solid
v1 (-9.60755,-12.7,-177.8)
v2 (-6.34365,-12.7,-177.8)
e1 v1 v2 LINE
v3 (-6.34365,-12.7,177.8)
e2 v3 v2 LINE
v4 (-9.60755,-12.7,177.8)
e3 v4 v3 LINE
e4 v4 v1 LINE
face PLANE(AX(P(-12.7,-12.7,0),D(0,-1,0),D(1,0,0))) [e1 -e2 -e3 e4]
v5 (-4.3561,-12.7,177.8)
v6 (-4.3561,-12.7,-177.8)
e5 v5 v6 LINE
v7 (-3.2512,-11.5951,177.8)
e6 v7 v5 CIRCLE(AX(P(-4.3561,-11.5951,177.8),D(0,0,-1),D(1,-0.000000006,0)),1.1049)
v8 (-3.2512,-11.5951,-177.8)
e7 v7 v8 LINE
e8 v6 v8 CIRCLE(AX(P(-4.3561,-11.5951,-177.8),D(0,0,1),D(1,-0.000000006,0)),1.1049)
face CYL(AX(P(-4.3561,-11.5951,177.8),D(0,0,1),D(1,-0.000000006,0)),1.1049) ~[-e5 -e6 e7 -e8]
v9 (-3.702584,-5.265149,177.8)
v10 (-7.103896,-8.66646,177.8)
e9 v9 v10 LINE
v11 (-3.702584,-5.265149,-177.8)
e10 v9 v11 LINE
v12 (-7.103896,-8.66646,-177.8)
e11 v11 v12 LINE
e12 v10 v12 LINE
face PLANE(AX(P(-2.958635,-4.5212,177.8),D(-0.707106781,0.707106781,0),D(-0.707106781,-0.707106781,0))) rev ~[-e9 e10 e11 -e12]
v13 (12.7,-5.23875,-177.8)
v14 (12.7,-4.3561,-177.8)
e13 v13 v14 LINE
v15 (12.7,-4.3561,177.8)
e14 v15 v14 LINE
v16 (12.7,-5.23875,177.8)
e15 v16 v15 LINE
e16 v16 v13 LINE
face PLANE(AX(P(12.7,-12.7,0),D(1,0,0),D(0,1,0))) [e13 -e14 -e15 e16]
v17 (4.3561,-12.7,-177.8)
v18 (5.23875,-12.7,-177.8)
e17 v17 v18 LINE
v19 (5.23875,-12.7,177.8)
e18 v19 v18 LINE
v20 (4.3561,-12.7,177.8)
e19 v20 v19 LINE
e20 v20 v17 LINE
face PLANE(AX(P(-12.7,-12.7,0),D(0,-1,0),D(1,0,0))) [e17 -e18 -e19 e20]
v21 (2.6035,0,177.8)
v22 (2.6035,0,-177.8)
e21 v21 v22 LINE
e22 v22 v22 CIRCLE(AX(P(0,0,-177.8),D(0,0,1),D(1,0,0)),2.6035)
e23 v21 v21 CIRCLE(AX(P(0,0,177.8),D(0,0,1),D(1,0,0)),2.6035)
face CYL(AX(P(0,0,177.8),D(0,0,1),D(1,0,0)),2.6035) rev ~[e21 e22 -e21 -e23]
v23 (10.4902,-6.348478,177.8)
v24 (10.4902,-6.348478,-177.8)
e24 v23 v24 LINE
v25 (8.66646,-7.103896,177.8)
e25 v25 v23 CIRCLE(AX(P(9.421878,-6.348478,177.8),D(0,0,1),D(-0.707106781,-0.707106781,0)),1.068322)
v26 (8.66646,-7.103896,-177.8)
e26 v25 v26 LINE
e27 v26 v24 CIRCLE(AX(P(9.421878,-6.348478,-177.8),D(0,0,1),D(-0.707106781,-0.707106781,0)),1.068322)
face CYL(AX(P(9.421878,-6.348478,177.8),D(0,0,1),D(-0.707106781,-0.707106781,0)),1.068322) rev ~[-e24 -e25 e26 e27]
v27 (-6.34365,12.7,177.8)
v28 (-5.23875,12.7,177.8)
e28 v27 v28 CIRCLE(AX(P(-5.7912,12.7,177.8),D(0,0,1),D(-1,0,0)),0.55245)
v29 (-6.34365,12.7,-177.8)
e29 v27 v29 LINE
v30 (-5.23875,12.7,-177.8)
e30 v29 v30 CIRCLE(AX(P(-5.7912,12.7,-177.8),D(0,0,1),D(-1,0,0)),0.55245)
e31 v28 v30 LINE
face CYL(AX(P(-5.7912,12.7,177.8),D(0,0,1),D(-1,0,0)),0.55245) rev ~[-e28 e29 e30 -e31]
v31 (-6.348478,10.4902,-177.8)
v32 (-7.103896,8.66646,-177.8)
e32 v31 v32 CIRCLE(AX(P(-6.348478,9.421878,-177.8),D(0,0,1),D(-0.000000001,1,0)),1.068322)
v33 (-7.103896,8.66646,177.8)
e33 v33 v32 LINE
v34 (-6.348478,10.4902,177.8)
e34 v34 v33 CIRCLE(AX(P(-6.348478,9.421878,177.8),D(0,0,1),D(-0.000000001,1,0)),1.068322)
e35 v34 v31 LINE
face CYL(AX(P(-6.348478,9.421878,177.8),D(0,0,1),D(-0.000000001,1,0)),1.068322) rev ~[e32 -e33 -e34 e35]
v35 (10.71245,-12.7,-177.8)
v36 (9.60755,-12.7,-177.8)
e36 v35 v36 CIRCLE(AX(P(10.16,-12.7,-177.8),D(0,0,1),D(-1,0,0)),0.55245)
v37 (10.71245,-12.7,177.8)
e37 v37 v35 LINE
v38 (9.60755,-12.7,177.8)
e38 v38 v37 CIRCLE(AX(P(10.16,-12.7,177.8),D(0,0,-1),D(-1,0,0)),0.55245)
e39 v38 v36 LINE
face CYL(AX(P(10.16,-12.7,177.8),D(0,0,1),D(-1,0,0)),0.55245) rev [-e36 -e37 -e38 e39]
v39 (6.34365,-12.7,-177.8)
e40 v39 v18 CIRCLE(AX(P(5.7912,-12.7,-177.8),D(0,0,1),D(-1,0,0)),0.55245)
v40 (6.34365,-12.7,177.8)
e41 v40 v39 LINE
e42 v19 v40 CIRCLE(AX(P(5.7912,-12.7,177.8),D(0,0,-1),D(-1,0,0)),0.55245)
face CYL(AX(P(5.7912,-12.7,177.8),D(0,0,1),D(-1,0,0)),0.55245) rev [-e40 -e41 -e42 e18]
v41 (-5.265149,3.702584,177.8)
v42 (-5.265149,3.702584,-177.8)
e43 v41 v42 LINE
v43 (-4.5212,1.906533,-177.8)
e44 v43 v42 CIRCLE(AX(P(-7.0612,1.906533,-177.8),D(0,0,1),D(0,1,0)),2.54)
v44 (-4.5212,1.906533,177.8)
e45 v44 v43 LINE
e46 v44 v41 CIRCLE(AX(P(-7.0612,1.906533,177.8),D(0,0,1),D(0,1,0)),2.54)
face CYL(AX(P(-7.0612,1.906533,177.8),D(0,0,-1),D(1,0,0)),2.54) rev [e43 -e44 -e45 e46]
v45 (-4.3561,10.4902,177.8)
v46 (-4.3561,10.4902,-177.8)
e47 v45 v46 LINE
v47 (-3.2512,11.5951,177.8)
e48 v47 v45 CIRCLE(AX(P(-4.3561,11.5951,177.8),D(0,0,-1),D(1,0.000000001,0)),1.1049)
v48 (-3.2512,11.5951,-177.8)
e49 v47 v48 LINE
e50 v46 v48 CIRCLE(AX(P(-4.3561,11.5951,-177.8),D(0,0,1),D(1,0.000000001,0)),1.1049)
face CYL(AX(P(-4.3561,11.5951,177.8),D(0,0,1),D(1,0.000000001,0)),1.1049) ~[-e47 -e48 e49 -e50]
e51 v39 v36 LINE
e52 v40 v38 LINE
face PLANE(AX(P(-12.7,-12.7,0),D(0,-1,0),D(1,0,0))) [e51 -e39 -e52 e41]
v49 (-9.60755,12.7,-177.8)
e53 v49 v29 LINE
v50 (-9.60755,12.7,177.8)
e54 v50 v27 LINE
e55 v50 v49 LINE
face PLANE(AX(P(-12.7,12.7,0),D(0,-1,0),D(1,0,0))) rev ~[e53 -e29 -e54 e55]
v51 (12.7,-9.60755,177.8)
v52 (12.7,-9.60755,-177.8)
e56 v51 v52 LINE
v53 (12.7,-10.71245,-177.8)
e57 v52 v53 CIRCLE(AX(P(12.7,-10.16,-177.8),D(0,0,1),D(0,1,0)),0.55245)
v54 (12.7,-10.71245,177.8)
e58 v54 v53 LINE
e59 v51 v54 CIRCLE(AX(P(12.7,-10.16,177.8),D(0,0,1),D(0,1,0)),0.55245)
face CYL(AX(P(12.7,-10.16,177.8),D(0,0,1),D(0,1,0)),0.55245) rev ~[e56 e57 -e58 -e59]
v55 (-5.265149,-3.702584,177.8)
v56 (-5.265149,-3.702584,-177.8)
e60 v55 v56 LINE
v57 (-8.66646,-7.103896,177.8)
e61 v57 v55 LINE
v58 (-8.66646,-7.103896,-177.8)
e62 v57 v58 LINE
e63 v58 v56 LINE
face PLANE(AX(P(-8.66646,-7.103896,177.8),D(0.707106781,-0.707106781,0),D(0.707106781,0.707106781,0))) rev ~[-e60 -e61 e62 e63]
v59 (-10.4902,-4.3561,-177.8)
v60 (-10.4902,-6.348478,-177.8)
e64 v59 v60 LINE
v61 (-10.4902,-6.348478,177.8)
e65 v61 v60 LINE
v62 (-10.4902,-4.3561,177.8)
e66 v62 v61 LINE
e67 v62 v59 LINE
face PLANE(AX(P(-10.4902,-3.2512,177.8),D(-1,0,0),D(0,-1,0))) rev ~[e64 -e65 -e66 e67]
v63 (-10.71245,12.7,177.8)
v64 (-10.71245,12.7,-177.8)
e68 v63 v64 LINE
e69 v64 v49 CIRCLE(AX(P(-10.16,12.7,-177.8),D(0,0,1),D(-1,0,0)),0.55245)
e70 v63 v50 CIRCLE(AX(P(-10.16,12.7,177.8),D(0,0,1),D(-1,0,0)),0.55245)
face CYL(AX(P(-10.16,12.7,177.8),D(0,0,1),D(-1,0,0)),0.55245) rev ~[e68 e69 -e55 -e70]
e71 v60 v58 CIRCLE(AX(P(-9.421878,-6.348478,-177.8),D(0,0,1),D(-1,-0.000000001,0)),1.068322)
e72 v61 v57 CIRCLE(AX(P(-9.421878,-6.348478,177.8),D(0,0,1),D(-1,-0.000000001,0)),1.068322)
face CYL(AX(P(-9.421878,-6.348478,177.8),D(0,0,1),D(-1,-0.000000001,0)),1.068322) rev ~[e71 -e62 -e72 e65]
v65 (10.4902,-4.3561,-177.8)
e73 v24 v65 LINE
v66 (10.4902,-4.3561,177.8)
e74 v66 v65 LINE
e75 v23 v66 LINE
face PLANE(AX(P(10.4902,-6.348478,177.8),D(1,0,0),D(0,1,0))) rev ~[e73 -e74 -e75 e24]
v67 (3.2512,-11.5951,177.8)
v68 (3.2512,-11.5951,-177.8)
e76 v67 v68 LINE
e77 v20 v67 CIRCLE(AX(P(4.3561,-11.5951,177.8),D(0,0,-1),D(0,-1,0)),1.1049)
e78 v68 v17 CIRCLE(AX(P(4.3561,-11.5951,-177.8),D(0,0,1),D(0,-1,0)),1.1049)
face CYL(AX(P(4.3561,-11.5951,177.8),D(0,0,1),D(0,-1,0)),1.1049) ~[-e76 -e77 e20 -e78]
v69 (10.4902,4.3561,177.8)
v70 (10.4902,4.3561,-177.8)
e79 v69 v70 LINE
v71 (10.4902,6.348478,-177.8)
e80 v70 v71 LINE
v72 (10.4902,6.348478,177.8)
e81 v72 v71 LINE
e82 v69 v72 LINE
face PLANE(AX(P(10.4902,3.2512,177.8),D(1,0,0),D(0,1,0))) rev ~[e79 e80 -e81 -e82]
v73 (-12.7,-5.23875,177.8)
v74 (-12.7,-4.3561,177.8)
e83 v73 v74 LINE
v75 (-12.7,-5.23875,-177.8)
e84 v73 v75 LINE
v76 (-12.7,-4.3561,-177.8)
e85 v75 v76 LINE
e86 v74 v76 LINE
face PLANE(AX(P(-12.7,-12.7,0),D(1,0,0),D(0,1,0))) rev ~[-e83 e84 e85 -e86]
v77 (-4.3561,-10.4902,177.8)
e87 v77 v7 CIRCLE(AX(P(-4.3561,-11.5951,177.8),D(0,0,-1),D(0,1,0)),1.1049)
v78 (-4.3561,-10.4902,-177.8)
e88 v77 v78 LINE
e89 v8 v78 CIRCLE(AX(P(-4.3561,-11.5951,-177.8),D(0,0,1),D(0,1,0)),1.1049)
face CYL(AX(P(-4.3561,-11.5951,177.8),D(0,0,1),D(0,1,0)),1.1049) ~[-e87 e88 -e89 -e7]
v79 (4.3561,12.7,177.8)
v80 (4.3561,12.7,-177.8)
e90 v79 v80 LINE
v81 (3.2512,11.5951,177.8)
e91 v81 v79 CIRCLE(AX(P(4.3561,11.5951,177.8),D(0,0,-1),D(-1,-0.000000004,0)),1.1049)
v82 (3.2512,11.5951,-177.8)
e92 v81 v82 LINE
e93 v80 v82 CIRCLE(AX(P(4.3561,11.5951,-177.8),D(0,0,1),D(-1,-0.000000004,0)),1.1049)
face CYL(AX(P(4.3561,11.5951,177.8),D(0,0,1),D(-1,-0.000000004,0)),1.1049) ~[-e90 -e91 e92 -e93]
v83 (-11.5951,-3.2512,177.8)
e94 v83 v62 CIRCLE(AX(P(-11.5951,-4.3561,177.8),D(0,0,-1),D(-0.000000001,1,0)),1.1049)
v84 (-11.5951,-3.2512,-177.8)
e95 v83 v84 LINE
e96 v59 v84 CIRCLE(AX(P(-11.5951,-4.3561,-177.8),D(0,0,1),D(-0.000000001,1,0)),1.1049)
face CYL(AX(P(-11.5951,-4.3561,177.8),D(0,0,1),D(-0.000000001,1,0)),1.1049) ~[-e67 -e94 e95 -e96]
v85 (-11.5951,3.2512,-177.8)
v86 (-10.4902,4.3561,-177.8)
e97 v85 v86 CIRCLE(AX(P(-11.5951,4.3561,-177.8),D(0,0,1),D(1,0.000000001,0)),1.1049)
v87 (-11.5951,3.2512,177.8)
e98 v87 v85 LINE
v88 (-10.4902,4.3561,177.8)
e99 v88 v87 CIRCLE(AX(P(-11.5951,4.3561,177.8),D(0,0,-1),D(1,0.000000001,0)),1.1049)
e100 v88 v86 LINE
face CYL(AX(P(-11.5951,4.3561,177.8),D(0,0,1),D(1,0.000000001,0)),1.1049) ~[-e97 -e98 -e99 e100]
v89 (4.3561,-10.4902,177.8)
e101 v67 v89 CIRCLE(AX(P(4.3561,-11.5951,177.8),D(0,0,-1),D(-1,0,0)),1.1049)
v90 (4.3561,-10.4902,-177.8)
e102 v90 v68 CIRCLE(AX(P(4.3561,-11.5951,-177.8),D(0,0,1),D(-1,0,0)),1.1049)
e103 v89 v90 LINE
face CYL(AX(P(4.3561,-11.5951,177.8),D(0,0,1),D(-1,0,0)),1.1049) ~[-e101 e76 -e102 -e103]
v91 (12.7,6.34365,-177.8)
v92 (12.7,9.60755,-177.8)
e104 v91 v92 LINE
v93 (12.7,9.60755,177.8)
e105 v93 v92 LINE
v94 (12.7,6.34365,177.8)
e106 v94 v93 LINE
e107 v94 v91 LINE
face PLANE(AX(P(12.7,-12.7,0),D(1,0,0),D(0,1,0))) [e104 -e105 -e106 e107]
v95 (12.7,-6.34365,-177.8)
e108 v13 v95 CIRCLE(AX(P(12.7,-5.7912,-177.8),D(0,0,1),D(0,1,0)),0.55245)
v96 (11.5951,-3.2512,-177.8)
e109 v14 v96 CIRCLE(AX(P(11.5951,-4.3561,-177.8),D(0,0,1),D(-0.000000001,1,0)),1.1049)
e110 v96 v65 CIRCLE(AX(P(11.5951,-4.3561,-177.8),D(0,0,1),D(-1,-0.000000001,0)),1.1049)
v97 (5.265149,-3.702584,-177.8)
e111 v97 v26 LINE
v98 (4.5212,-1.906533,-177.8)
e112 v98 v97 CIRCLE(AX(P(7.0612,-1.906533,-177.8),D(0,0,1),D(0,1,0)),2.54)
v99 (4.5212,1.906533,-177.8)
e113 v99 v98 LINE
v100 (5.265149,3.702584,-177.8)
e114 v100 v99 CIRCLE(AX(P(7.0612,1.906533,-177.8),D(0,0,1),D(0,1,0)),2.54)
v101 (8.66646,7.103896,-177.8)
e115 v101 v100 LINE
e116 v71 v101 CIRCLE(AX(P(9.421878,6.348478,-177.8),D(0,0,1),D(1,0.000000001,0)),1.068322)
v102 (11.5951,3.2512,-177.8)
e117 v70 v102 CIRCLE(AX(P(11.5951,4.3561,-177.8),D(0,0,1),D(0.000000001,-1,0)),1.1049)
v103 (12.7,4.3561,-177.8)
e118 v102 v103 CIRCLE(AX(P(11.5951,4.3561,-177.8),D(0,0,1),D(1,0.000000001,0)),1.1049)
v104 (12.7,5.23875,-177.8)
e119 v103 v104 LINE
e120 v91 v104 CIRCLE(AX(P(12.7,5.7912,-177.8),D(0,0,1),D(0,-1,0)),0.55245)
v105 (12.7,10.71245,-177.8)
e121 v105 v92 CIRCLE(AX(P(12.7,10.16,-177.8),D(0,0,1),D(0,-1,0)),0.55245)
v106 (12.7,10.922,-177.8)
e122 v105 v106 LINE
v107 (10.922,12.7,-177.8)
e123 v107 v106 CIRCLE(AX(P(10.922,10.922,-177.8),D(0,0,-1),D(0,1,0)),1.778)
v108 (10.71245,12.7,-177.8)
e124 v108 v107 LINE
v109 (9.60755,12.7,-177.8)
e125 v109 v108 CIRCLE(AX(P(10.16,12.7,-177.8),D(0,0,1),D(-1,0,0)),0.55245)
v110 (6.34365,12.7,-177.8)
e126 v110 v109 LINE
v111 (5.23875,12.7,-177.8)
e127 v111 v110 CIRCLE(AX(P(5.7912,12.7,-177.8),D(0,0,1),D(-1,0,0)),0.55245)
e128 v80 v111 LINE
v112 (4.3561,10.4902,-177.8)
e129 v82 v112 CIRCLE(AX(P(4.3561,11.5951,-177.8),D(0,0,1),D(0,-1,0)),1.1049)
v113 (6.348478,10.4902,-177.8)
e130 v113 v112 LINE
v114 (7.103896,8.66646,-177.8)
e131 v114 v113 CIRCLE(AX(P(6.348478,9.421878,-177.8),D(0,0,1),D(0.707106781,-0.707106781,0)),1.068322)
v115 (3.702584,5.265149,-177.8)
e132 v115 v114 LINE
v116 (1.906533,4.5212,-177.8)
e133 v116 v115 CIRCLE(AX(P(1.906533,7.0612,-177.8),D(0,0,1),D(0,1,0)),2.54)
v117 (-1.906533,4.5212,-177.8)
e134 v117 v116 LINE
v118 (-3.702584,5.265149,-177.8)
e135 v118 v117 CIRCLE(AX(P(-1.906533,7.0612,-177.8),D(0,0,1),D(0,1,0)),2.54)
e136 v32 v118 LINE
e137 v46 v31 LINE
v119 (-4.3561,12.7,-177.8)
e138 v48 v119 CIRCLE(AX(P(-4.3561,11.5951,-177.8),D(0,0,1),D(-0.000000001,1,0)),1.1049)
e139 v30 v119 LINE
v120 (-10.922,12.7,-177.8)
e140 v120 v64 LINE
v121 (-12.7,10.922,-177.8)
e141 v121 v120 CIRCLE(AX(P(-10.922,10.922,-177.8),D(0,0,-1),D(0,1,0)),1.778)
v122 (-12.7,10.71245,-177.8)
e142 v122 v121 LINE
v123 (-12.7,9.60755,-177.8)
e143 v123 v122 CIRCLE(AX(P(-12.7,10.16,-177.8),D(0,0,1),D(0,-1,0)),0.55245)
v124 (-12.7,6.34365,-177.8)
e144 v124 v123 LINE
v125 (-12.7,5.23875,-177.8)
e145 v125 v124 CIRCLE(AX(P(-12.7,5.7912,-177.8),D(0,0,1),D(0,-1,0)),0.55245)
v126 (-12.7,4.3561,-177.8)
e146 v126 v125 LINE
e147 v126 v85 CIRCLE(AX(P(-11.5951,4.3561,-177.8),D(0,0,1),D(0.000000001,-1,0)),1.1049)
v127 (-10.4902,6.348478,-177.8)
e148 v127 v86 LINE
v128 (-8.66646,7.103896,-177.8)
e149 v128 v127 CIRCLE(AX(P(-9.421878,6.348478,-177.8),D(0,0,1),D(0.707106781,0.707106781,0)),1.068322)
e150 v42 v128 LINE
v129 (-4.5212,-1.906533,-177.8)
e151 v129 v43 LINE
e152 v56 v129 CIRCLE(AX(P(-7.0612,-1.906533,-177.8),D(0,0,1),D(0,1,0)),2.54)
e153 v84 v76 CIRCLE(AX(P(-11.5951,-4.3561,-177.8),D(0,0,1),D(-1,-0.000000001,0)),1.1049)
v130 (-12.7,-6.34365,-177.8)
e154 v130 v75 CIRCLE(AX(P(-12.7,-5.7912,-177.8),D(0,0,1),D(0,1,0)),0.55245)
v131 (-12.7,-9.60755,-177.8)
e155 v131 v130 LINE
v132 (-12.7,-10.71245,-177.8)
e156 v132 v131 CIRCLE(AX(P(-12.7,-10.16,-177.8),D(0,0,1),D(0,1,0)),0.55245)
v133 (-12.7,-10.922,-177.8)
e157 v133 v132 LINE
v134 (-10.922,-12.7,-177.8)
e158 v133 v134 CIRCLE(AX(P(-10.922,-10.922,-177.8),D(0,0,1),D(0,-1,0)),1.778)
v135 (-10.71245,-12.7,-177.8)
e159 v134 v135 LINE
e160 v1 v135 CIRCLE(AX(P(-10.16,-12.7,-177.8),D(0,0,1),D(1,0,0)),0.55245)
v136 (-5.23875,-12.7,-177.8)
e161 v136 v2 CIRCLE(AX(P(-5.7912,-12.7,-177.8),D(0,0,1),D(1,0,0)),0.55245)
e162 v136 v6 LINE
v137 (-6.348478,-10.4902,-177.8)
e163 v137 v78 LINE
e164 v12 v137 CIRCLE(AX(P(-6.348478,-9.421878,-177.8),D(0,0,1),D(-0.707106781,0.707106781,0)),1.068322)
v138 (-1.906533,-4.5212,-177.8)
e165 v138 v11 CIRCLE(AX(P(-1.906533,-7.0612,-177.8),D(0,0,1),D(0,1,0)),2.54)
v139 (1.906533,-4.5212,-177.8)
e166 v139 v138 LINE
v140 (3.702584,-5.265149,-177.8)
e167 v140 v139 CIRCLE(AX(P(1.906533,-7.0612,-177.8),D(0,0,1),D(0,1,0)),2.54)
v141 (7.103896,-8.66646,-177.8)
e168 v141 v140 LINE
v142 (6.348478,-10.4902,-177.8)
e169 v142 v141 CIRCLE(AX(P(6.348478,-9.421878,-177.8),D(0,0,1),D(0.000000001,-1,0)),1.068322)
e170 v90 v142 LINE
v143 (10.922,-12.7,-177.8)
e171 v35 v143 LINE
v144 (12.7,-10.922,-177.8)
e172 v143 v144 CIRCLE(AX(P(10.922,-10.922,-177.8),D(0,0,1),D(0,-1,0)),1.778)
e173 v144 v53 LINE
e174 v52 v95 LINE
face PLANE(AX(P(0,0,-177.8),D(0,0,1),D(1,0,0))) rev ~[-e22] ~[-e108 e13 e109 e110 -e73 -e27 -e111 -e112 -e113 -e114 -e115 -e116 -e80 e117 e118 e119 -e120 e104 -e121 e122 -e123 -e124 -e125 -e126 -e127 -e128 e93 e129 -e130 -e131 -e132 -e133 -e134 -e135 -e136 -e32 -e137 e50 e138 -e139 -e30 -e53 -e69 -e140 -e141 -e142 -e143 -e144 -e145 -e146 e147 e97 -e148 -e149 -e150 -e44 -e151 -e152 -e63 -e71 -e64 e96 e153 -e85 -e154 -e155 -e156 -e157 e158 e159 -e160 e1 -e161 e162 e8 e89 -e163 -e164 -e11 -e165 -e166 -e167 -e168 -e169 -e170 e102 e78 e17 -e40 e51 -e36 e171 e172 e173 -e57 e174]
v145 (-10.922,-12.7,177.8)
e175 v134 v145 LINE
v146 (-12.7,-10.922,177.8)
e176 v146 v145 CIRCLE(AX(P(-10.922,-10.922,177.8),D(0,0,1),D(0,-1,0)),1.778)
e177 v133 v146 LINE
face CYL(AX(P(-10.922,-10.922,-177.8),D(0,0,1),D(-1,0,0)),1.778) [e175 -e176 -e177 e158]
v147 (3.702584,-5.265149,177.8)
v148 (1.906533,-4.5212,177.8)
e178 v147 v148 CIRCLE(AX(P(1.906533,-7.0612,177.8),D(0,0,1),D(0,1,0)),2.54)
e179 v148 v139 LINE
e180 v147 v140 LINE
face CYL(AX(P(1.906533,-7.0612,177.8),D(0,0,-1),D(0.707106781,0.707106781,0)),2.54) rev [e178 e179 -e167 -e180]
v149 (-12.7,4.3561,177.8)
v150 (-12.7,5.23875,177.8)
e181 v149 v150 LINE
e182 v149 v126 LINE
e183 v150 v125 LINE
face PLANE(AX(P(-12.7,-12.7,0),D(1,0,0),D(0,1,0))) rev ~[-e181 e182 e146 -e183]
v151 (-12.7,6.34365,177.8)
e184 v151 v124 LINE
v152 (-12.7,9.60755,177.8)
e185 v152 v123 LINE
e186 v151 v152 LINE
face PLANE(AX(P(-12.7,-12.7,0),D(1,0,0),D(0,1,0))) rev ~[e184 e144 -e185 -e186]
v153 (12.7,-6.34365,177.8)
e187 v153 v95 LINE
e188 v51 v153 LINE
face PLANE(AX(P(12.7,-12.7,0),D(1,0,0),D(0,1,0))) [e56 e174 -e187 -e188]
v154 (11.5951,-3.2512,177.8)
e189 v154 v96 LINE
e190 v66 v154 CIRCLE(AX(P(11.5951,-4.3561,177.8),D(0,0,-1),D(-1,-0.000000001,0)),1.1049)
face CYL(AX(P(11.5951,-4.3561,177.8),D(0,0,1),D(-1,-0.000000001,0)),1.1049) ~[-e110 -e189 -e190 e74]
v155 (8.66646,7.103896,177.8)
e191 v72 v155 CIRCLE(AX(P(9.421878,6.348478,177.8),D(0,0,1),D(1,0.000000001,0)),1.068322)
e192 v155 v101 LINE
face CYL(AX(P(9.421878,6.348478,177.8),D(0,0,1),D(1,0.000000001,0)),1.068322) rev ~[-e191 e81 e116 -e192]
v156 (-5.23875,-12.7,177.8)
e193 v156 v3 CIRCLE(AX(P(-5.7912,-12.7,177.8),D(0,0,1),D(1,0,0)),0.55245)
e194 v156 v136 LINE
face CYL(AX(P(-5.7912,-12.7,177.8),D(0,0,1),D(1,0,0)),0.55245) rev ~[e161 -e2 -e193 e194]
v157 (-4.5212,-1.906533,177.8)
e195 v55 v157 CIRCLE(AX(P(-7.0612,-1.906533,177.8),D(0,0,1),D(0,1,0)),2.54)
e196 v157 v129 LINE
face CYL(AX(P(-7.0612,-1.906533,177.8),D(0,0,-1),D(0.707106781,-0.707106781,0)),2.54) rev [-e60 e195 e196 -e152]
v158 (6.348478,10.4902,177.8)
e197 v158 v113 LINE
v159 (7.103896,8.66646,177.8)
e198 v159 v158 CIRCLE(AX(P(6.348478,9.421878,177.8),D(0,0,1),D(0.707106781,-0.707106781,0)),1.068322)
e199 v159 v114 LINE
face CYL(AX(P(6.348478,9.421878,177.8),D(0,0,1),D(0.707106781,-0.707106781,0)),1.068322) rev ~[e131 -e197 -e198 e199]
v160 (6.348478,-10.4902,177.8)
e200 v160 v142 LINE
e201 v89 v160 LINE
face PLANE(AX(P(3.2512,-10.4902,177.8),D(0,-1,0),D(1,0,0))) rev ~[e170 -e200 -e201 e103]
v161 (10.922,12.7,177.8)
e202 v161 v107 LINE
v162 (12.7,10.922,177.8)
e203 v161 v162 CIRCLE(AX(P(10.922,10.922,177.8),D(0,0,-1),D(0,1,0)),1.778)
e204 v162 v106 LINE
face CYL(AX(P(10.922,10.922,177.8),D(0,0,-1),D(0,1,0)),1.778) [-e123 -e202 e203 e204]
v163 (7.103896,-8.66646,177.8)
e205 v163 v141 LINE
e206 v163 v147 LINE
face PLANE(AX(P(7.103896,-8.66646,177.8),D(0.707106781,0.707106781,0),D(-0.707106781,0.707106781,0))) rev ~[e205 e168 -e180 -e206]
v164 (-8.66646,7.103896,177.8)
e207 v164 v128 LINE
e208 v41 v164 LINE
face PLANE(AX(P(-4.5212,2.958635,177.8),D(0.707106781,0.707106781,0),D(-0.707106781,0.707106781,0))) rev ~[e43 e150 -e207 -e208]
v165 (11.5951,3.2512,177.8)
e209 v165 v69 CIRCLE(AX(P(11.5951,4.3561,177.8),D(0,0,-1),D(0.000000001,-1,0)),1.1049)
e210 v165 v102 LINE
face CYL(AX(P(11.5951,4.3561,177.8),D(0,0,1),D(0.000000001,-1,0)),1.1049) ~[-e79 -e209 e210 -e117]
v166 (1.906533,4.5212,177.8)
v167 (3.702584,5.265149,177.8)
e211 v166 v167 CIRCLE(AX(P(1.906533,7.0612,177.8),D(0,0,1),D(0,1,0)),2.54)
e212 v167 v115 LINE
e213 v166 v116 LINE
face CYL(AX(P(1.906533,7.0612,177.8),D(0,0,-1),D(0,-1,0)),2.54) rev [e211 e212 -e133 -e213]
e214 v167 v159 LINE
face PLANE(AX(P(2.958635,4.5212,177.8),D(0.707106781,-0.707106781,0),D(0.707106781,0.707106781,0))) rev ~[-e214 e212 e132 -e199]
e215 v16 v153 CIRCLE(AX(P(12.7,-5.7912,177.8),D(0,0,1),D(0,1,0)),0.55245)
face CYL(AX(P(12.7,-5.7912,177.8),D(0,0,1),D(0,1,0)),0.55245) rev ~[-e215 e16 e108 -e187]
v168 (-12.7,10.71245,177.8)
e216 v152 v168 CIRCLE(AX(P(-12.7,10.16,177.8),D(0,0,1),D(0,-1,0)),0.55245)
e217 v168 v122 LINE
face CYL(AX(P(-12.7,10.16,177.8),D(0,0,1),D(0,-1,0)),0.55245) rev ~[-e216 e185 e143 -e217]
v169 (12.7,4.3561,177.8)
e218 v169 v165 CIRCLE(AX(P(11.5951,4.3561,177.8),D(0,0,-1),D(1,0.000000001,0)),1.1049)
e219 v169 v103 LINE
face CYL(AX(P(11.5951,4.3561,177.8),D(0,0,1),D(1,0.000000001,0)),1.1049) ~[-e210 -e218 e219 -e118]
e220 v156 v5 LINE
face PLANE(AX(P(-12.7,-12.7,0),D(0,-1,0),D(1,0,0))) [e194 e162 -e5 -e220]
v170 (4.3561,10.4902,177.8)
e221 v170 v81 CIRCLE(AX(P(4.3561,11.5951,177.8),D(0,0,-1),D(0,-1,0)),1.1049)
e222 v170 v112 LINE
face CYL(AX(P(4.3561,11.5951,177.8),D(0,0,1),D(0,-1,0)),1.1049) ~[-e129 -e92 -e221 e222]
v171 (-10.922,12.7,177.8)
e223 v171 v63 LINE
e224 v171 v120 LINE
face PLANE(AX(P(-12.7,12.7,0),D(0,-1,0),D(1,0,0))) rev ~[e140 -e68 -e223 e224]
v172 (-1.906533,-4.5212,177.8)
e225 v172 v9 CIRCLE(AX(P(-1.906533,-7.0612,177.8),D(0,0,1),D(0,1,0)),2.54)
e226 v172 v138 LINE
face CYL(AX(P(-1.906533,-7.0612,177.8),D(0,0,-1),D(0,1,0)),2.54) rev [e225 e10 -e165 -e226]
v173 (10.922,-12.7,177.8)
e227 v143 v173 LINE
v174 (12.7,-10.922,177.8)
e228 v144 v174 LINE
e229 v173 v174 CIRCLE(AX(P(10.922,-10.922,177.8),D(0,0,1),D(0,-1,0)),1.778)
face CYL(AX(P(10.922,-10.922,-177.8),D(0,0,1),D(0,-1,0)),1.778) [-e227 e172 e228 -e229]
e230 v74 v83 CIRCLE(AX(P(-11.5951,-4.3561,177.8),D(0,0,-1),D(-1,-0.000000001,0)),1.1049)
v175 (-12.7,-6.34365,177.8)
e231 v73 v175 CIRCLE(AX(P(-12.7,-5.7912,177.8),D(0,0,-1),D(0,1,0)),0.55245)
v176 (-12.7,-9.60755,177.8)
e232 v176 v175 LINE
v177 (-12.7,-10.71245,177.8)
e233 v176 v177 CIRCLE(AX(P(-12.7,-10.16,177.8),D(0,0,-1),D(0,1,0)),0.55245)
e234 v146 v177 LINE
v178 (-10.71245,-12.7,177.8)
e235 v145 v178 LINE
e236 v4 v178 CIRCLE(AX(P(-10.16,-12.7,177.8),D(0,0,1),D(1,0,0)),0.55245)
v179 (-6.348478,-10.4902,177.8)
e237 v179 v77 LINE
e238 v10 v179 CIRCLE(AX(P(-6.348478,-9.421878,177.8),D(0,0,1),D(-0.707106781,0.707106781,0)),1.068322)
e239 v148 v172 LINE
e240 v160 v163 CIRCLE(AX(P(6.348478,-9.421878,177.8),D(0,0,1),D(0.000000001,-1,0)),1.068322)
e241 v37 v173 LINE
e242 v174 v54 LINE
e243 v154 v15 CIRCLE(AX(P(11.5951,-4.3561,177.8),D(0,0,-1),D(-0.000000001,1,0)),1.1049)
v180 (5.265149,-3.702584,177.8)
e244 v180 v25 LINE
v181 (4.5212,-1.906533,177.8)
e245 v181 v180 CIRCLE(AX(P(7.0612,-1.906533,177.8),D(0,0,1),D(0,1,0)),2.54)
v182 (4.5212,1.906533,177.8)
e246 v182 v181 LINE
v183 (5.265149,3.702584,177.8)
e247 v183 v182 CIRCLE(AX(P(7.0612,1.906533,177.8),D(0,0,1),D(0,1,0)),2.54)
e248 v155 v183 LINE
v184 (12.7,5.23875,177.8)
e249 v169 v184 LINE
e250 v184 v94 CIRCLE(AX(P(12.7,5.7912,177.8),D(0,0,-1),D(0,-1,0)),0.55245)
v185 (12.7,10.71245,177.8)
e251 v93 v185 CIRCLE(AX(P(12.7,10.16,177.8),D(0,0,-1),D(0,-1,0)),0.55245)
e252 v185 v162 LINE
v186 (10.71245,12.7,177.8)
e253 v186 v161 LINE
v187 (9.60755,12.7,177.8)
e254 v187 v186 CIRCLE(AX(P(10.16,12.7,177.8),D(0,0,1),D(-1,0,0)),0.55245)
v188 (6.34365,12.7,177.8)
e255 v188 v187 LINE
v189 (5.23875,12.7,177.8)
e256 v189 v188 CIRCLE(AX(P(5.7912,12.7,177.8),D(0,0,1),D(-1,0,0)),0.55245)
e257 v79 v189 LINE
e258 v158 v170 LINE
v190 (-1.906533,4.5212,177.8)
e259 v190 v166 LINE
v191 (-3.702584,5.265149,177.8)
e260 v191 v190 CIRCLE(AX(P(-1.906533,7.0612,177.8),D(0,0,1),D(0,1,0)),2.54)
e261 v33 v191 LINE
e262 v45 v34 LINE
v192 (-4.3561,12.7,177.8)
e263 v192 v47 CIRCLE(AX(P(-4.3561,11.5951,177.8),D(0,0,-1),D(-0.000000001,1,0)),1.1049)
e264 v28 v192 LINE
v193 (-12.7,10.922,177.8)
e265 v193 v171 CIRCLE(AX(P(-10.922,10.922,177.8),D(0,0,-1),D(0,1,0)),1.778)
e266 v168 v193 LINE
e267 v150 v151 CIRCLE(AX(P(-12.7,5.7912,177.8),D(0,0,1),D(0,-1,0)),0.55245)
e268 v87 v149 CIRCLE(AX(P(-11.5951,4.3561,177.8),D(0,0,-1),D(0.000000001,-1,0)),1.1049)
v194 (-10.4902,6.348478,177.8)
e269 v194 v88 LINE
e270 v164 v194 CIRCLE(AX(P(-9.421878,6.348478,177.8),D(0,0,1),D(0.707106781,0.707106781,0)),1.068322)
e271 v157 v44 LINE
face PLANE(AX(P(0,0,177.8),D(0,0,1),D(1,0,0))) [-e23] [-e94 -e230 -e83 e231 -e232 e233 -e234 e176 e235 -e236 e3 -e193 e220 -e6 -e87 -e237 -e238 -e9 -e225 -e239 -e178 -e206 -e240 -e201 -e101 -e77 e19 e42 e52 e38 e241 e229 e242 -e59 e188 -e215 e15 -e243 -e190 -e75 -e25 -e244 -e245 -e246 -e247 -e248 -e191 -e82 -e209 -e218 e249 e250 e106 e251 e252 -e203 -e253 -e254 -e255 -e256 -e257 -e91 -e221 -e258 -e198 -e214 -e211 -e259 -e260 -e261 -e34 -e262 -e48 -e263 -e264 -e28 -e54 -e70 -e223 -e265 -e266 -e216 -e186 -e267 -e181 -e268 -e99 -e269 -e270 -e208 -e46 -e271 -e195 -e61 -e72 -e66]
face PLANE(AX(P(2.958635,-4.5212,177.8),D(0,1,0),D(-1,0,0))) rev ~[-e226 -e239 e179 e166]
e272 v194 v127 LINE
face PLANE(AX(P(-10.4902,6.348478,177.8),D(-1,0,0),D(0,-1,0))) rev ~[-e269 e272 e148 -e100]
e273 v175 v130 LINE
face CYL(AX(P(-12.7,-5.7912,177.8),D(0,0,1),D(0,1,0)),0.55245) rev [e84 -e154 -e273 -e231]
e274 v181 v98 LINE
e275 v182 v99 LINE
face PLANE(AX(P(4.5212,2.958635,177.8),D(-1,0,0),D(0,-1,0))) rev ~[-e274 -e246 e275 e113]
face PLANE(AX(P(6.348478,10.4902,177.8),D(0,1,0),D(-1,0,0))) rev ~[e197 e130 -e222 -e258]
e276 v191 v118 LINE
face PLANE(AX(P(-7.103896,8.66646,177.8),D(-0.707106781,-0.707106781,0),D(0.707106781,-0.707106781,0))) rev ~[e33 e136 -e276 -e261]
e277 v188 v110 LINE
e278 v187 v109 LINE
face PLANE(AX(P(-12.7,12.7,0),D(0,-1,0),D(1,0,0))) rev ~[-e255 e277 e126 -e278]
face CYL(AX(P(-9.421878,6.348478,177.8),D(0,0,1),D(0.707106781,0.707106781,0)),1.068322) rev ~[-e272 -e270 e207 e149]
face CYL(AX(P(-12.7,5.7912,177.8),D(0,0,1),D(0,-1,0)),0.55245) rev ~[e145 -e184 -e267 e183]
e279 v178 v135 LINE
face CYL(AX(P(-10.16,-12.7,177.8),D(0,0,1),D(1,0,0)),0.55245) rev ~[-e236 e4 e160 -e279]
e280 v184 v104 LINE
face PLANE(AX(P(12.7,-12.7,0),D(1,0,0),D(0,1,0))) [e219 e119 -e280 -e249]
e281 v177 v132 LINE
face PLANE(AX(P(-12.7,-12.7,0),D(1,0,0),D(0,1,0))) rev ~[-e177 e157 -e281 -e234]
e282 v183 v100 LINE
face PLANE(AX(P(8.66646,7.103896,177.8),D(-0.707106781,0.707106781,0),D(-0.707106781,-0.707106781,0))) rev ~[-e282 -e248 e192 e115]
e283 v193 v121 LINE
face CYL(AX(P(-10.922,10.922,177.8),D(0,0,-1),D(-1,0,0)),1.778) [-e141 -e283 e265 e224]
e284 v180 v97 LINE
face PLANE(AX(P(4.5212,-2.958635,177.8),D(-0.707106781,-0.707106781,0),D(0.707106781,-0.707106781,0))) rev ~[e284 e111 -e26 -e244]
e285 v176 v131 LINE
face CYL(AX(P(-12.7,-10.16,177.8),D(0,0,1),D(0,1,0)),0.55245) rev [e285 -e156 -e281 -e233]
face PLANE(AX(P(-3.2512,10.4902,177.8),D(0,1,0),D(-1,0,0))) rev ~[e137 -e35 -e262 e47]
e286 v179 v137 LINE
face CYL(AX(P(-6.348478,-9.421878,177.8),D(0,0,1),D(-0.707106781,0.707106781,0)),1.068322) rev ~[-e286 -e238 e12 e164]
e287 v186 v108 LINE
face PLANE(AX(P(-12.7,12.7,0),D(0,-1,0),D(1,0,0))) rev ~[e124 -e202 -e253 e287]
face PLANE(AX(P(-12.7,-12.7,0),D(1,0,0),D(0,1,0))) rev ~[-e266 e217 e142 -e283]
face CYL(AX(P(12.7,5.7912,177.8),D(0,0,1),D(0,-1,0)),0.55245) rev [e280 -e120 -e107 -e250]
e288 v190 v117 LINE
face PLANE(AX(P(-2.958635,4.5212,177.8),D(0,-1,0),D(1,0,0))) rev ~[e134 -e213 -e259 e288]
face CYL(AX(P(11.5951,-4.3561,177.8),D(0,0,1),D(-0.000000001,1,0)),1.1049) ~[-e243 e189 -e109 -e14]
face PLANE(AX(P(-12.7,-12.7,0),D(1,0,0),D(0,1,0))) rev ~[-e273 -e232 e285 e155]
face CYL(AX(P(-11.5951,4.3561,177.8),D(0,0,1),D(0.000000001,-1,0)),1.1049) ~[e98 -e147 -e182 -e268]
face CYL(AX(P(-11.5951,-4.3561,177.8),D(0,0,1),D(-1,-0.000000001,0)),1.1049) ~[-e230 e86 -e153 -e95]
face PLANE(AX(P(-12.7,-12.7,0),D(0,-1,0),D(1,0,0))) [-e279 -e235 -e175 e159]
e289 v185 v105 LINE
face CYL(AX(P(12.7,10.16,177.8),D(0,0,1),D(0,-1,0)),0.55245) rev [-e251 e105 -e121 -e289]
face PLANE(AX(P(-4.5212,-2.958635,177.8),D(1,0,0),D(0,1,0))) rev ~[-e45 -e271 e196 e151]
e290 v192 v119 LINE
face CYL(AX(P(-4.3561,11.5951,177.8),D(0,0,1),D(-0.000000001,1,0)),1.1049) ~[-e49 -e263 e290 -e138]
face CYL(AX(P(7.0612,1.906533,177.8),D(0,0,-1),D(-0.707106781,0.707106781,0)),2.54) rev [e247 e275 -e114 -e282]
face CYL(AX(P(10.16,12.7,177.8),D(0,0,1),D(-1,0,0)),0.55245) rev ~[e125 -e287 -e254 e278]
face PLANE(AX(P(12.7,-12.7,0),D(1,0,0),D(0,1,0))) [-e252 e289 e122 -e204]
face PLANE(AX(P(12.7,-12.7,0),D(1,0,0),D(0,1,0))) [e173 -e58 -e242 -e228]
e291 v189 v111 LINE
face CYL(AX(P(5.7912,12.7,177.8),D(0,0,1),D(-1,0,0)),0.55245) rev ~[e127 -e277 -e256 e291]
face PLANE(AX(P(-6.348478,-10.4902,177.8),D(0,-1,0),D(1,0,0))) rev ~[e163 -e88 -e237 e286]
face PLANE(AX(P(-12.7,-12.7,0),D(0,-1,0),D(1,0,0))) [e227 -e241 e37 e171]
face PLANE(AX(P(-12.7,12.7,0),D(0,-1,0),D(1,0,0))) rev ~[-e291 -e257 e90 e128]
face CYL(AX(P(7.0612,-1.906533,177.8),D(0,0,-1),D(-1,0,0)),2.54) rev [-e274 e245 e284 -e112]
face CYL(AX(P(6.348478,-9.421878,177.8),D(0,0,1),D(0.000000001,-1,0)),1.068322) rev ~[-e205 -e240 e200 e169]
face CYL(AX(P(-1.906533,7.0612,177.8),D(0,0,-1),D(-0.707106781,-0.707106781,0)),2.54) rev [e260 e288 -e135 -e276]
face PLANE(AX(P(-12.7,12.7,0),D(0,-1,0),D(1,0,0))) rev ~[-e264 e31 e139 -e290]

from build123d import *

# Parameters (mm, degrees)
SKETCH3_W                = 25.4
SKETCH3_H                = 25.4
BOSS_EXTRUDE1_DEPTH      = 177.8
BOSS_EXTRUDE1_DEPTH_BACK = 177.8
SKETCH4_R                = 2.6035
CUT_EXTRUDE1_DEPTH       = 356.6
CUT_EXTRUDE2_DEPTH       = 356.6
FILLET1_R                = 2.54
FILLET2_R                = 1.778


with BuildPart() as part:
    # Sketch3 → Boss-Extrude1 (new body, two sides)
    with BuildSketch(Plane.XY) as boss_extrude1_sk:
        Rectangle(SKETCH3_W, SKETCH3_H)
    extrude(amount=BOSS_EXTRUDE1_DEPTH)
    extrude(boss_extrude1_sk.sketch, amount=-BOSS_EXTRUDE1_DEPTH_BACK)

    # Sketch4 → Cut-Extrude1 (cut, through all)
    with BuildSketch(Plane.XY.offset(177.8)):
        with BuildLine():
            Line((3.2512, 12.7), (-3.2512, 12.7))
            Line((-3.2512, 12.7), (-3.2512, 10.4902))
            Line((-3.2512, 10.4902), (-6.348478019, 10.4902))
            ThreePointArc((-6.348478019, 10.4902), (-7.335478831, 9.830707141), (-7.103895736, 8.666460301))
            Line((-7.103895736, 8.666460301), (-2.958635435, 4.5212))
            Line((-2.958635435, 4.5212), (2.958635435, 4.5212))
            Line((2.958635435, 4.5212), (7.103895736, 8.666460301))
            ThreePointArc((7.103895736, 8.666460301), (7.335478831, 9.830707141), (6.348478019, 10.4902))
            Line((6.348478019, 10.4902), (3.2512, 10.4902))
            Line((3.2512, 10.4902), (3.2512, 12.7))
        make_face()
        with BuildLine():
            Line((12.7, -3.2512), (12.7, 3.2512))
            Line((12.7, 3.2512), (10.4902, 3.2512))
            Line((10.4902, 3.2512), (10.4902, 6.348478019))
            ThreePointArc((10.4902, 6.348478019), (9.830707141, 7.335478831), (8.666460301, 7.103895736))
            Line((8.666460301, 7.103895736), (4.5212, 2.958635435))
            Line((4.5212, 2.958635435), (4.5212, -2.958635435))
            Line((4.5212, -2.958635435), (8.666460301, -7.103895736))
            ThreePointArc((8.666460301, -7.103895736), (9.830707141, -7.335478831), (10.4902, -6.348478019))
            Line((10.4902, -6.348478019), (10.4902, -3.2512))
            Line((10.4902, -3.2512), (12.7, -3.2512))
        make_face()
        with BuildLine():
            Line((-3.2512, -10.4902), (-3.2512, -12.7))
            Line((-3.2512, -12.7), (3.2512, -12.7))
            Line((3.2512, -12.7), (3.2512, -10.4902))
            Line((3.2512, -10.4902), (6.348478019, -10.4902))
            ThreePointArc((6.348478019, -10.4902), (7.335478831, -9.830707141), (7.103895736, -8.666460301))
            Line((7.103895736, -8.666460301), (2.958635435, -4.5212))
            Line((2.958635435, -4.5212), (-2.958635435, -4.5212))
            Line((-2.958635435, -4.5212), (-7.103895736, -8.666460301))
            ThreePointArc((-7.103895736, -8.666460301), (-7.335478831, -9.830707141), (-6.348478019, -10.4902))
            Line((-6.348478019, -10.4902), (-3.2512, -10.4902))
        make_face()
        with BuildLine():
            Line((-10.4902, 3.2512), (-12.7, 3.2512))
            Line((-12.7, 3.2512), (-12.7, -3.2512))
            Line((-12.7, -3.2512), (-10.4902, -3.2512))
            Line((-10.4902, -3.2512), (-10.4902, -6.348478019))
            ThreePointArc((-10.4902, -6.348478019), (-9.830707141, -7.335478831), (-8.666460301, -7.103895736))
            Line((-8.666460301, -7.103895736), (-4.5212, -2.958635435))
            Line((-4.5212, -2.958635435), (-4.5212, 2.958635435))
            Line((-4.5212, 2.958635435), (-8.666460301, 7.103895736))
            ThreePointArc((-8.666460301, 7.103895736), (-9.830707141, 7.335478831), (-10.4902, 6.348478019))
            Line((-10.4902, 6.348478019), (-10.4902, 3.2512))
        make_face()
        Circle(SKETCH4_R)
    extrude(amount=-CUT_EXTRUDE1_DEPTH, mode=Mode.SUBTRACT)

    # Sketch5 → Cut-Extrude2 (cut, through all)
    with BuildSketch(Plane.XY.offset(177.8)):
        with BuildLine():
            ThreePointArc((-11.5951, 3.2512), (-12.376382283, 3.574817717), (-12.7, 4.3561))
            Line((-12.7, 4.3561), (-12.7, 3.2512))
            Line((-12.7, 3.2512), (-11.5951, 3.2512))
        make_face()
        with BuildLine():
            ThreePointArc((-10.4902, 4.3561), (-10.813817717, 3.574817717), (-11.5951, 3.2512))
            Line((-11.5951, 3.2512), (-10.4902, 3.2512))
            Line((-10.4902, 3.2512), (-10.4902, 4.3561))
        make_face()
        with BuildLine():
            Line((-12.7, -3.2512), (-12.7, -4.3561))
            ThreePointArc((-12.7, -4.3561), (-12.376382283, -3.574817717), (-11.5951, -3.2512))
            Line((-11.5951, -3.2512), (-12.7, -3.2512))
        make_face()
        with BuildLine():
            Line((-10.4902, -3.2512), (-11.5951, -3.2512))
            ThreePointArc((-11.5951, -3.2512), (-10.813817717, -3.574817717), (-10.4902, -4.3561))
            Line((-10.4902, -4.3561), (-10.4902, -3.2512))
        make_face()
        with BuildLine():
            Line((-3.2512, -11.595100007), (-3.2512, -10.4902))
            Line((-3.2512, -10.4902), (-4.3561, -10.4902))
            ThreePointArc((-4.3561, -10.4902), (-3.574817715, -10.81381772), (-3.2512, -11.595100007))
        make_face()
        with BuildLine():
            Line((-3.2512, -12.7), (-3.2512, -11.595100007))
            ThreePointArc((-3.2512, -11.595100007), (-3.57481772, -12.376382285), (-4.3561, -12.7))
            Line((-4.3561, -12.7), (-3.2512, -12.7))
        make_face()
        with BuildLine():
            Line((3.2512, -10.4902), (3.2512, -11.5951))
            ThreePointArc((3.2512, -11.5951), (3.574817718, -10.813817717), (4.3561, -10.4902))
            Line((4.3561, -10.4902), (3.2512, -10.4902))
        make_face()
        with BuildLine():
            Line((3.2512, -12.7), (4.3561, -12.7))
            ThreePointArc((4.3561, -12.7), (3.574817717, -12.376382282), (3.2512, -11.5951))
            Line((3.2512, -11.5951), (3.2512, -12.7))
        make_face()
        with BuildLine():
            Line((11.5951, -3.2512), (10.4902, -3.2512))
            Line((10.4902, -3.2512), (10.4902, -4.3561))
            ThreePointArc((10.4902, -4.3561), (10.813817717, -3.574817717), (11.5951, -3.2512))
        make_face()
        with BuildLine():
            Line((12.7, -3.2512), (11.5951, -3.2512))
            ThreePointArc((11.5951, -3.2512), (12.376382283, -3.574817717), (12.7, -4.3561))
            Line((12.7, -4.3561), (12.7, -3.2512))
        make_face()
        with BuildLine():
            Line((10.4902, 3.2512), (11.5951, 3.2512))
            ThreePointArc((11.5951, 3.2512), (10.813817717, 3.574817717), (10.4902, 4.3561))
            Line((10.4902, 4.3561), (10.4902, 3.2512))
        make_face()
        with BuildLine():
            Line((12.7, 3.2512), (12.7, 4.3561))
            ThreePointArc((12.7, 4.3561), (12.376382283, 3.574817717), (11.5951, 3.2512))
            Line((11.5951, 3.2512), (12.7, 3.2512))
        make_face()
        with BuildLine():
            Line((3.2512, 12.7), (3.2512, 11.595099996))
            ThreePointArc((3.2512, 11.595099996), (3.574817716, 12.376382281), (4.3561, 12.7))
            Line((4.3561, 12.7), (3.2512, 12.7))
        make_face()
        with BuildLine():
            Line((3.2512, 11.595099996), (3.2512, 10.4902))
            Line((3.2512, 10.4902), (4.3561, 10.4902))
            ThreePointArc((4.3561, 10.4902), (3.574817719, 10.813817716), (3.2512, 11.595099996))
        make_face()
        with BuildLine():
            Line((-3.2512, 12.7), (-4.3561, 12.7))
            ThreePointArc((-4.3561, 12.7), (-3.574817717, 12.376382283), (-3.2512, 11.5951))
            Line((-3.2512, 11.5951), (-3.2512, 12.7))
        make_face()
        with BuildLine():
            Line((-3.2512, 10.4902), (-3.2512, 11.5951))
            ThreePointArc((-3.2512, 11.5951), (-3.574817717, 10.813817717), (-4.3561, 10.4902))
            Line((-4.3561, 10.4902), (-3.2512, 10.4902))
        make_face()
        with BuildLine():
            ThreePointArc((-12.7, 5.23875), (-12.14755, 5.7912), (-12.7, 6.34365))
            Line((-12.7, 6.34365), (-12.7, 5.23875))
        make_face()
        with BuildLine():
            ThreePointArc((-12.7, 9.60755), (-12.14755, 10.16), (-12.7, 10.71245))
            Line((-12.7, 10.71245), (-12.7, 9.60755))
        make_face()
        with BuildLine():
            ThreePointArc((-10.71245, 12.7), (-10.16, 12.14755), (-9.60755, 12.7))
            Line((-9.60755, 12.7), (-10.71245, 12.7))
        make_face()
        with BuildLine():
            ThreePointArc((-6.34365, 12.7), (-5.7912, 12.14755), (-5.23875, 12.7))
            Line((-5.23875, 12.7), (-6.34365, 12.7))
        make_face()
        with BuildLine():
            Line((6.34365, 12.7), (5.23875, 12.7))
            ThreePointArc((5.23875, 12.7), (5.7912, 12.14755), (6.34365, 12.7))
        make_face()
        with BuildLine():
            Line((10.71245, 12.7), (9.60755, 12.7))
            ThreePointArc((9.60755, 12.7), (10.16, 12.14755), (10.71245, 12.7))
        make_face()
        with BuildLine():
            Line((12.7, 10.71245), (12.7, 9.60755))
            ThreePointArc((12.7, 9.60755), (12.14755, 10.16), (12.7, 10.71245))
        make_face()
        with BuildLine():
            Line((12.7, 6.34365), (12.7, 5.23875))
            ThreePointArc((12.7, 5.23875), (12.14755, 5.7912), (12.7, 6.34365))
        make_face()
        with BuildLine():
            Line((-12.7, -6.34365), (-12.7, -5.23875))
            ThreePointArc((-12.7, -5.23875), (-12.14755, -5.7912), (-12.7, -6.34365))
        make_face()
        with BuildLine():
            Line((-12.7, -10.71245), (-12.7, -9.60755))
            ThreePointArc((-12.7, -9.60755), (-12.14755, -10.16), (-12.7, -10.71245))
        make_face()
        with BuildLine():
            Line((-10.71245, -12.7), (-9.60755, -12.7))
            ThreePointArc((-9.60755, -12.7), (-10.16, -12.14755), (-10.71245, -12.7))
        make_face()
        with BuildLine():
            Line((-6.34365, -12.7), (-5.23875, -12.7))
            ThreePointArc((-5.23875, -12.7), (-5.7912, -12.14755), (-6.34365, -12.7))
        make_face()
        with BuildLine():
            Line((12.7, -10.71245), (12.7, -9.60755))
            ThreePointArc((12.7, -9.60755), (12.14755, -10.16), (12.7, -10.71245))
        make_face()
        with BuildLine():
            Line((12.7, -6.34365), (12.7, -5.23875))
            ThreePointArc((12.7, -5.23875), (12.14755, -5.7912), (12.7, -6.34365))
        make_face()
        with BuildLine():
            Line((10.71245, -12.7), (9.60755, -12.7))
            ThreePointArc((9.60755, -12.7), (10.16, -12.14755), (10.71245, -12.7))
        make_face()
        with BuildLine():
            Line((6.34365, -12.7), (5.23875, -12.7))
            ThreePointArc((5.23875, -12.7), (5.7912, -12.14755), (6.34365, -12.7))
        make_face()
    extrude(amount=-CUT_EXTRUDE2_DEPTH, mode=Mode.SUBTRACT)

    # Fillet1
    fillet1_edges = [part.edges().sort_by_distance(p)[0] for p in [
        (2.958635435, 4.5212, 0),
        (-2.958635435, 4.5212, 0),
        (-2.958635435, -4.5212, 0),
        (2.958635435, -4.5212, 0),
        (4.5212, -2.958635435, 0),
        (4.5212, 2.958635435, 0),
        (-4.5212, 2.958635435, 0),
        (-4.5212, -2.958635435, 0),
    ]]
    fillet(fillet1_edges, radius=FILLET1_R)

    # Fillet2
    fillet2_edges = [part.edges().sort_by_distance(p)[0] for p in [
        (-12.7, 12.7, 0),
        (12.7, 12.7, 0),
        (12.7, -12.7, 0),
        (-12.7, -12.7, 0),
    ]]
    fillet(fillet2_edges, radius=FILLET2_R)


solid = part.part
